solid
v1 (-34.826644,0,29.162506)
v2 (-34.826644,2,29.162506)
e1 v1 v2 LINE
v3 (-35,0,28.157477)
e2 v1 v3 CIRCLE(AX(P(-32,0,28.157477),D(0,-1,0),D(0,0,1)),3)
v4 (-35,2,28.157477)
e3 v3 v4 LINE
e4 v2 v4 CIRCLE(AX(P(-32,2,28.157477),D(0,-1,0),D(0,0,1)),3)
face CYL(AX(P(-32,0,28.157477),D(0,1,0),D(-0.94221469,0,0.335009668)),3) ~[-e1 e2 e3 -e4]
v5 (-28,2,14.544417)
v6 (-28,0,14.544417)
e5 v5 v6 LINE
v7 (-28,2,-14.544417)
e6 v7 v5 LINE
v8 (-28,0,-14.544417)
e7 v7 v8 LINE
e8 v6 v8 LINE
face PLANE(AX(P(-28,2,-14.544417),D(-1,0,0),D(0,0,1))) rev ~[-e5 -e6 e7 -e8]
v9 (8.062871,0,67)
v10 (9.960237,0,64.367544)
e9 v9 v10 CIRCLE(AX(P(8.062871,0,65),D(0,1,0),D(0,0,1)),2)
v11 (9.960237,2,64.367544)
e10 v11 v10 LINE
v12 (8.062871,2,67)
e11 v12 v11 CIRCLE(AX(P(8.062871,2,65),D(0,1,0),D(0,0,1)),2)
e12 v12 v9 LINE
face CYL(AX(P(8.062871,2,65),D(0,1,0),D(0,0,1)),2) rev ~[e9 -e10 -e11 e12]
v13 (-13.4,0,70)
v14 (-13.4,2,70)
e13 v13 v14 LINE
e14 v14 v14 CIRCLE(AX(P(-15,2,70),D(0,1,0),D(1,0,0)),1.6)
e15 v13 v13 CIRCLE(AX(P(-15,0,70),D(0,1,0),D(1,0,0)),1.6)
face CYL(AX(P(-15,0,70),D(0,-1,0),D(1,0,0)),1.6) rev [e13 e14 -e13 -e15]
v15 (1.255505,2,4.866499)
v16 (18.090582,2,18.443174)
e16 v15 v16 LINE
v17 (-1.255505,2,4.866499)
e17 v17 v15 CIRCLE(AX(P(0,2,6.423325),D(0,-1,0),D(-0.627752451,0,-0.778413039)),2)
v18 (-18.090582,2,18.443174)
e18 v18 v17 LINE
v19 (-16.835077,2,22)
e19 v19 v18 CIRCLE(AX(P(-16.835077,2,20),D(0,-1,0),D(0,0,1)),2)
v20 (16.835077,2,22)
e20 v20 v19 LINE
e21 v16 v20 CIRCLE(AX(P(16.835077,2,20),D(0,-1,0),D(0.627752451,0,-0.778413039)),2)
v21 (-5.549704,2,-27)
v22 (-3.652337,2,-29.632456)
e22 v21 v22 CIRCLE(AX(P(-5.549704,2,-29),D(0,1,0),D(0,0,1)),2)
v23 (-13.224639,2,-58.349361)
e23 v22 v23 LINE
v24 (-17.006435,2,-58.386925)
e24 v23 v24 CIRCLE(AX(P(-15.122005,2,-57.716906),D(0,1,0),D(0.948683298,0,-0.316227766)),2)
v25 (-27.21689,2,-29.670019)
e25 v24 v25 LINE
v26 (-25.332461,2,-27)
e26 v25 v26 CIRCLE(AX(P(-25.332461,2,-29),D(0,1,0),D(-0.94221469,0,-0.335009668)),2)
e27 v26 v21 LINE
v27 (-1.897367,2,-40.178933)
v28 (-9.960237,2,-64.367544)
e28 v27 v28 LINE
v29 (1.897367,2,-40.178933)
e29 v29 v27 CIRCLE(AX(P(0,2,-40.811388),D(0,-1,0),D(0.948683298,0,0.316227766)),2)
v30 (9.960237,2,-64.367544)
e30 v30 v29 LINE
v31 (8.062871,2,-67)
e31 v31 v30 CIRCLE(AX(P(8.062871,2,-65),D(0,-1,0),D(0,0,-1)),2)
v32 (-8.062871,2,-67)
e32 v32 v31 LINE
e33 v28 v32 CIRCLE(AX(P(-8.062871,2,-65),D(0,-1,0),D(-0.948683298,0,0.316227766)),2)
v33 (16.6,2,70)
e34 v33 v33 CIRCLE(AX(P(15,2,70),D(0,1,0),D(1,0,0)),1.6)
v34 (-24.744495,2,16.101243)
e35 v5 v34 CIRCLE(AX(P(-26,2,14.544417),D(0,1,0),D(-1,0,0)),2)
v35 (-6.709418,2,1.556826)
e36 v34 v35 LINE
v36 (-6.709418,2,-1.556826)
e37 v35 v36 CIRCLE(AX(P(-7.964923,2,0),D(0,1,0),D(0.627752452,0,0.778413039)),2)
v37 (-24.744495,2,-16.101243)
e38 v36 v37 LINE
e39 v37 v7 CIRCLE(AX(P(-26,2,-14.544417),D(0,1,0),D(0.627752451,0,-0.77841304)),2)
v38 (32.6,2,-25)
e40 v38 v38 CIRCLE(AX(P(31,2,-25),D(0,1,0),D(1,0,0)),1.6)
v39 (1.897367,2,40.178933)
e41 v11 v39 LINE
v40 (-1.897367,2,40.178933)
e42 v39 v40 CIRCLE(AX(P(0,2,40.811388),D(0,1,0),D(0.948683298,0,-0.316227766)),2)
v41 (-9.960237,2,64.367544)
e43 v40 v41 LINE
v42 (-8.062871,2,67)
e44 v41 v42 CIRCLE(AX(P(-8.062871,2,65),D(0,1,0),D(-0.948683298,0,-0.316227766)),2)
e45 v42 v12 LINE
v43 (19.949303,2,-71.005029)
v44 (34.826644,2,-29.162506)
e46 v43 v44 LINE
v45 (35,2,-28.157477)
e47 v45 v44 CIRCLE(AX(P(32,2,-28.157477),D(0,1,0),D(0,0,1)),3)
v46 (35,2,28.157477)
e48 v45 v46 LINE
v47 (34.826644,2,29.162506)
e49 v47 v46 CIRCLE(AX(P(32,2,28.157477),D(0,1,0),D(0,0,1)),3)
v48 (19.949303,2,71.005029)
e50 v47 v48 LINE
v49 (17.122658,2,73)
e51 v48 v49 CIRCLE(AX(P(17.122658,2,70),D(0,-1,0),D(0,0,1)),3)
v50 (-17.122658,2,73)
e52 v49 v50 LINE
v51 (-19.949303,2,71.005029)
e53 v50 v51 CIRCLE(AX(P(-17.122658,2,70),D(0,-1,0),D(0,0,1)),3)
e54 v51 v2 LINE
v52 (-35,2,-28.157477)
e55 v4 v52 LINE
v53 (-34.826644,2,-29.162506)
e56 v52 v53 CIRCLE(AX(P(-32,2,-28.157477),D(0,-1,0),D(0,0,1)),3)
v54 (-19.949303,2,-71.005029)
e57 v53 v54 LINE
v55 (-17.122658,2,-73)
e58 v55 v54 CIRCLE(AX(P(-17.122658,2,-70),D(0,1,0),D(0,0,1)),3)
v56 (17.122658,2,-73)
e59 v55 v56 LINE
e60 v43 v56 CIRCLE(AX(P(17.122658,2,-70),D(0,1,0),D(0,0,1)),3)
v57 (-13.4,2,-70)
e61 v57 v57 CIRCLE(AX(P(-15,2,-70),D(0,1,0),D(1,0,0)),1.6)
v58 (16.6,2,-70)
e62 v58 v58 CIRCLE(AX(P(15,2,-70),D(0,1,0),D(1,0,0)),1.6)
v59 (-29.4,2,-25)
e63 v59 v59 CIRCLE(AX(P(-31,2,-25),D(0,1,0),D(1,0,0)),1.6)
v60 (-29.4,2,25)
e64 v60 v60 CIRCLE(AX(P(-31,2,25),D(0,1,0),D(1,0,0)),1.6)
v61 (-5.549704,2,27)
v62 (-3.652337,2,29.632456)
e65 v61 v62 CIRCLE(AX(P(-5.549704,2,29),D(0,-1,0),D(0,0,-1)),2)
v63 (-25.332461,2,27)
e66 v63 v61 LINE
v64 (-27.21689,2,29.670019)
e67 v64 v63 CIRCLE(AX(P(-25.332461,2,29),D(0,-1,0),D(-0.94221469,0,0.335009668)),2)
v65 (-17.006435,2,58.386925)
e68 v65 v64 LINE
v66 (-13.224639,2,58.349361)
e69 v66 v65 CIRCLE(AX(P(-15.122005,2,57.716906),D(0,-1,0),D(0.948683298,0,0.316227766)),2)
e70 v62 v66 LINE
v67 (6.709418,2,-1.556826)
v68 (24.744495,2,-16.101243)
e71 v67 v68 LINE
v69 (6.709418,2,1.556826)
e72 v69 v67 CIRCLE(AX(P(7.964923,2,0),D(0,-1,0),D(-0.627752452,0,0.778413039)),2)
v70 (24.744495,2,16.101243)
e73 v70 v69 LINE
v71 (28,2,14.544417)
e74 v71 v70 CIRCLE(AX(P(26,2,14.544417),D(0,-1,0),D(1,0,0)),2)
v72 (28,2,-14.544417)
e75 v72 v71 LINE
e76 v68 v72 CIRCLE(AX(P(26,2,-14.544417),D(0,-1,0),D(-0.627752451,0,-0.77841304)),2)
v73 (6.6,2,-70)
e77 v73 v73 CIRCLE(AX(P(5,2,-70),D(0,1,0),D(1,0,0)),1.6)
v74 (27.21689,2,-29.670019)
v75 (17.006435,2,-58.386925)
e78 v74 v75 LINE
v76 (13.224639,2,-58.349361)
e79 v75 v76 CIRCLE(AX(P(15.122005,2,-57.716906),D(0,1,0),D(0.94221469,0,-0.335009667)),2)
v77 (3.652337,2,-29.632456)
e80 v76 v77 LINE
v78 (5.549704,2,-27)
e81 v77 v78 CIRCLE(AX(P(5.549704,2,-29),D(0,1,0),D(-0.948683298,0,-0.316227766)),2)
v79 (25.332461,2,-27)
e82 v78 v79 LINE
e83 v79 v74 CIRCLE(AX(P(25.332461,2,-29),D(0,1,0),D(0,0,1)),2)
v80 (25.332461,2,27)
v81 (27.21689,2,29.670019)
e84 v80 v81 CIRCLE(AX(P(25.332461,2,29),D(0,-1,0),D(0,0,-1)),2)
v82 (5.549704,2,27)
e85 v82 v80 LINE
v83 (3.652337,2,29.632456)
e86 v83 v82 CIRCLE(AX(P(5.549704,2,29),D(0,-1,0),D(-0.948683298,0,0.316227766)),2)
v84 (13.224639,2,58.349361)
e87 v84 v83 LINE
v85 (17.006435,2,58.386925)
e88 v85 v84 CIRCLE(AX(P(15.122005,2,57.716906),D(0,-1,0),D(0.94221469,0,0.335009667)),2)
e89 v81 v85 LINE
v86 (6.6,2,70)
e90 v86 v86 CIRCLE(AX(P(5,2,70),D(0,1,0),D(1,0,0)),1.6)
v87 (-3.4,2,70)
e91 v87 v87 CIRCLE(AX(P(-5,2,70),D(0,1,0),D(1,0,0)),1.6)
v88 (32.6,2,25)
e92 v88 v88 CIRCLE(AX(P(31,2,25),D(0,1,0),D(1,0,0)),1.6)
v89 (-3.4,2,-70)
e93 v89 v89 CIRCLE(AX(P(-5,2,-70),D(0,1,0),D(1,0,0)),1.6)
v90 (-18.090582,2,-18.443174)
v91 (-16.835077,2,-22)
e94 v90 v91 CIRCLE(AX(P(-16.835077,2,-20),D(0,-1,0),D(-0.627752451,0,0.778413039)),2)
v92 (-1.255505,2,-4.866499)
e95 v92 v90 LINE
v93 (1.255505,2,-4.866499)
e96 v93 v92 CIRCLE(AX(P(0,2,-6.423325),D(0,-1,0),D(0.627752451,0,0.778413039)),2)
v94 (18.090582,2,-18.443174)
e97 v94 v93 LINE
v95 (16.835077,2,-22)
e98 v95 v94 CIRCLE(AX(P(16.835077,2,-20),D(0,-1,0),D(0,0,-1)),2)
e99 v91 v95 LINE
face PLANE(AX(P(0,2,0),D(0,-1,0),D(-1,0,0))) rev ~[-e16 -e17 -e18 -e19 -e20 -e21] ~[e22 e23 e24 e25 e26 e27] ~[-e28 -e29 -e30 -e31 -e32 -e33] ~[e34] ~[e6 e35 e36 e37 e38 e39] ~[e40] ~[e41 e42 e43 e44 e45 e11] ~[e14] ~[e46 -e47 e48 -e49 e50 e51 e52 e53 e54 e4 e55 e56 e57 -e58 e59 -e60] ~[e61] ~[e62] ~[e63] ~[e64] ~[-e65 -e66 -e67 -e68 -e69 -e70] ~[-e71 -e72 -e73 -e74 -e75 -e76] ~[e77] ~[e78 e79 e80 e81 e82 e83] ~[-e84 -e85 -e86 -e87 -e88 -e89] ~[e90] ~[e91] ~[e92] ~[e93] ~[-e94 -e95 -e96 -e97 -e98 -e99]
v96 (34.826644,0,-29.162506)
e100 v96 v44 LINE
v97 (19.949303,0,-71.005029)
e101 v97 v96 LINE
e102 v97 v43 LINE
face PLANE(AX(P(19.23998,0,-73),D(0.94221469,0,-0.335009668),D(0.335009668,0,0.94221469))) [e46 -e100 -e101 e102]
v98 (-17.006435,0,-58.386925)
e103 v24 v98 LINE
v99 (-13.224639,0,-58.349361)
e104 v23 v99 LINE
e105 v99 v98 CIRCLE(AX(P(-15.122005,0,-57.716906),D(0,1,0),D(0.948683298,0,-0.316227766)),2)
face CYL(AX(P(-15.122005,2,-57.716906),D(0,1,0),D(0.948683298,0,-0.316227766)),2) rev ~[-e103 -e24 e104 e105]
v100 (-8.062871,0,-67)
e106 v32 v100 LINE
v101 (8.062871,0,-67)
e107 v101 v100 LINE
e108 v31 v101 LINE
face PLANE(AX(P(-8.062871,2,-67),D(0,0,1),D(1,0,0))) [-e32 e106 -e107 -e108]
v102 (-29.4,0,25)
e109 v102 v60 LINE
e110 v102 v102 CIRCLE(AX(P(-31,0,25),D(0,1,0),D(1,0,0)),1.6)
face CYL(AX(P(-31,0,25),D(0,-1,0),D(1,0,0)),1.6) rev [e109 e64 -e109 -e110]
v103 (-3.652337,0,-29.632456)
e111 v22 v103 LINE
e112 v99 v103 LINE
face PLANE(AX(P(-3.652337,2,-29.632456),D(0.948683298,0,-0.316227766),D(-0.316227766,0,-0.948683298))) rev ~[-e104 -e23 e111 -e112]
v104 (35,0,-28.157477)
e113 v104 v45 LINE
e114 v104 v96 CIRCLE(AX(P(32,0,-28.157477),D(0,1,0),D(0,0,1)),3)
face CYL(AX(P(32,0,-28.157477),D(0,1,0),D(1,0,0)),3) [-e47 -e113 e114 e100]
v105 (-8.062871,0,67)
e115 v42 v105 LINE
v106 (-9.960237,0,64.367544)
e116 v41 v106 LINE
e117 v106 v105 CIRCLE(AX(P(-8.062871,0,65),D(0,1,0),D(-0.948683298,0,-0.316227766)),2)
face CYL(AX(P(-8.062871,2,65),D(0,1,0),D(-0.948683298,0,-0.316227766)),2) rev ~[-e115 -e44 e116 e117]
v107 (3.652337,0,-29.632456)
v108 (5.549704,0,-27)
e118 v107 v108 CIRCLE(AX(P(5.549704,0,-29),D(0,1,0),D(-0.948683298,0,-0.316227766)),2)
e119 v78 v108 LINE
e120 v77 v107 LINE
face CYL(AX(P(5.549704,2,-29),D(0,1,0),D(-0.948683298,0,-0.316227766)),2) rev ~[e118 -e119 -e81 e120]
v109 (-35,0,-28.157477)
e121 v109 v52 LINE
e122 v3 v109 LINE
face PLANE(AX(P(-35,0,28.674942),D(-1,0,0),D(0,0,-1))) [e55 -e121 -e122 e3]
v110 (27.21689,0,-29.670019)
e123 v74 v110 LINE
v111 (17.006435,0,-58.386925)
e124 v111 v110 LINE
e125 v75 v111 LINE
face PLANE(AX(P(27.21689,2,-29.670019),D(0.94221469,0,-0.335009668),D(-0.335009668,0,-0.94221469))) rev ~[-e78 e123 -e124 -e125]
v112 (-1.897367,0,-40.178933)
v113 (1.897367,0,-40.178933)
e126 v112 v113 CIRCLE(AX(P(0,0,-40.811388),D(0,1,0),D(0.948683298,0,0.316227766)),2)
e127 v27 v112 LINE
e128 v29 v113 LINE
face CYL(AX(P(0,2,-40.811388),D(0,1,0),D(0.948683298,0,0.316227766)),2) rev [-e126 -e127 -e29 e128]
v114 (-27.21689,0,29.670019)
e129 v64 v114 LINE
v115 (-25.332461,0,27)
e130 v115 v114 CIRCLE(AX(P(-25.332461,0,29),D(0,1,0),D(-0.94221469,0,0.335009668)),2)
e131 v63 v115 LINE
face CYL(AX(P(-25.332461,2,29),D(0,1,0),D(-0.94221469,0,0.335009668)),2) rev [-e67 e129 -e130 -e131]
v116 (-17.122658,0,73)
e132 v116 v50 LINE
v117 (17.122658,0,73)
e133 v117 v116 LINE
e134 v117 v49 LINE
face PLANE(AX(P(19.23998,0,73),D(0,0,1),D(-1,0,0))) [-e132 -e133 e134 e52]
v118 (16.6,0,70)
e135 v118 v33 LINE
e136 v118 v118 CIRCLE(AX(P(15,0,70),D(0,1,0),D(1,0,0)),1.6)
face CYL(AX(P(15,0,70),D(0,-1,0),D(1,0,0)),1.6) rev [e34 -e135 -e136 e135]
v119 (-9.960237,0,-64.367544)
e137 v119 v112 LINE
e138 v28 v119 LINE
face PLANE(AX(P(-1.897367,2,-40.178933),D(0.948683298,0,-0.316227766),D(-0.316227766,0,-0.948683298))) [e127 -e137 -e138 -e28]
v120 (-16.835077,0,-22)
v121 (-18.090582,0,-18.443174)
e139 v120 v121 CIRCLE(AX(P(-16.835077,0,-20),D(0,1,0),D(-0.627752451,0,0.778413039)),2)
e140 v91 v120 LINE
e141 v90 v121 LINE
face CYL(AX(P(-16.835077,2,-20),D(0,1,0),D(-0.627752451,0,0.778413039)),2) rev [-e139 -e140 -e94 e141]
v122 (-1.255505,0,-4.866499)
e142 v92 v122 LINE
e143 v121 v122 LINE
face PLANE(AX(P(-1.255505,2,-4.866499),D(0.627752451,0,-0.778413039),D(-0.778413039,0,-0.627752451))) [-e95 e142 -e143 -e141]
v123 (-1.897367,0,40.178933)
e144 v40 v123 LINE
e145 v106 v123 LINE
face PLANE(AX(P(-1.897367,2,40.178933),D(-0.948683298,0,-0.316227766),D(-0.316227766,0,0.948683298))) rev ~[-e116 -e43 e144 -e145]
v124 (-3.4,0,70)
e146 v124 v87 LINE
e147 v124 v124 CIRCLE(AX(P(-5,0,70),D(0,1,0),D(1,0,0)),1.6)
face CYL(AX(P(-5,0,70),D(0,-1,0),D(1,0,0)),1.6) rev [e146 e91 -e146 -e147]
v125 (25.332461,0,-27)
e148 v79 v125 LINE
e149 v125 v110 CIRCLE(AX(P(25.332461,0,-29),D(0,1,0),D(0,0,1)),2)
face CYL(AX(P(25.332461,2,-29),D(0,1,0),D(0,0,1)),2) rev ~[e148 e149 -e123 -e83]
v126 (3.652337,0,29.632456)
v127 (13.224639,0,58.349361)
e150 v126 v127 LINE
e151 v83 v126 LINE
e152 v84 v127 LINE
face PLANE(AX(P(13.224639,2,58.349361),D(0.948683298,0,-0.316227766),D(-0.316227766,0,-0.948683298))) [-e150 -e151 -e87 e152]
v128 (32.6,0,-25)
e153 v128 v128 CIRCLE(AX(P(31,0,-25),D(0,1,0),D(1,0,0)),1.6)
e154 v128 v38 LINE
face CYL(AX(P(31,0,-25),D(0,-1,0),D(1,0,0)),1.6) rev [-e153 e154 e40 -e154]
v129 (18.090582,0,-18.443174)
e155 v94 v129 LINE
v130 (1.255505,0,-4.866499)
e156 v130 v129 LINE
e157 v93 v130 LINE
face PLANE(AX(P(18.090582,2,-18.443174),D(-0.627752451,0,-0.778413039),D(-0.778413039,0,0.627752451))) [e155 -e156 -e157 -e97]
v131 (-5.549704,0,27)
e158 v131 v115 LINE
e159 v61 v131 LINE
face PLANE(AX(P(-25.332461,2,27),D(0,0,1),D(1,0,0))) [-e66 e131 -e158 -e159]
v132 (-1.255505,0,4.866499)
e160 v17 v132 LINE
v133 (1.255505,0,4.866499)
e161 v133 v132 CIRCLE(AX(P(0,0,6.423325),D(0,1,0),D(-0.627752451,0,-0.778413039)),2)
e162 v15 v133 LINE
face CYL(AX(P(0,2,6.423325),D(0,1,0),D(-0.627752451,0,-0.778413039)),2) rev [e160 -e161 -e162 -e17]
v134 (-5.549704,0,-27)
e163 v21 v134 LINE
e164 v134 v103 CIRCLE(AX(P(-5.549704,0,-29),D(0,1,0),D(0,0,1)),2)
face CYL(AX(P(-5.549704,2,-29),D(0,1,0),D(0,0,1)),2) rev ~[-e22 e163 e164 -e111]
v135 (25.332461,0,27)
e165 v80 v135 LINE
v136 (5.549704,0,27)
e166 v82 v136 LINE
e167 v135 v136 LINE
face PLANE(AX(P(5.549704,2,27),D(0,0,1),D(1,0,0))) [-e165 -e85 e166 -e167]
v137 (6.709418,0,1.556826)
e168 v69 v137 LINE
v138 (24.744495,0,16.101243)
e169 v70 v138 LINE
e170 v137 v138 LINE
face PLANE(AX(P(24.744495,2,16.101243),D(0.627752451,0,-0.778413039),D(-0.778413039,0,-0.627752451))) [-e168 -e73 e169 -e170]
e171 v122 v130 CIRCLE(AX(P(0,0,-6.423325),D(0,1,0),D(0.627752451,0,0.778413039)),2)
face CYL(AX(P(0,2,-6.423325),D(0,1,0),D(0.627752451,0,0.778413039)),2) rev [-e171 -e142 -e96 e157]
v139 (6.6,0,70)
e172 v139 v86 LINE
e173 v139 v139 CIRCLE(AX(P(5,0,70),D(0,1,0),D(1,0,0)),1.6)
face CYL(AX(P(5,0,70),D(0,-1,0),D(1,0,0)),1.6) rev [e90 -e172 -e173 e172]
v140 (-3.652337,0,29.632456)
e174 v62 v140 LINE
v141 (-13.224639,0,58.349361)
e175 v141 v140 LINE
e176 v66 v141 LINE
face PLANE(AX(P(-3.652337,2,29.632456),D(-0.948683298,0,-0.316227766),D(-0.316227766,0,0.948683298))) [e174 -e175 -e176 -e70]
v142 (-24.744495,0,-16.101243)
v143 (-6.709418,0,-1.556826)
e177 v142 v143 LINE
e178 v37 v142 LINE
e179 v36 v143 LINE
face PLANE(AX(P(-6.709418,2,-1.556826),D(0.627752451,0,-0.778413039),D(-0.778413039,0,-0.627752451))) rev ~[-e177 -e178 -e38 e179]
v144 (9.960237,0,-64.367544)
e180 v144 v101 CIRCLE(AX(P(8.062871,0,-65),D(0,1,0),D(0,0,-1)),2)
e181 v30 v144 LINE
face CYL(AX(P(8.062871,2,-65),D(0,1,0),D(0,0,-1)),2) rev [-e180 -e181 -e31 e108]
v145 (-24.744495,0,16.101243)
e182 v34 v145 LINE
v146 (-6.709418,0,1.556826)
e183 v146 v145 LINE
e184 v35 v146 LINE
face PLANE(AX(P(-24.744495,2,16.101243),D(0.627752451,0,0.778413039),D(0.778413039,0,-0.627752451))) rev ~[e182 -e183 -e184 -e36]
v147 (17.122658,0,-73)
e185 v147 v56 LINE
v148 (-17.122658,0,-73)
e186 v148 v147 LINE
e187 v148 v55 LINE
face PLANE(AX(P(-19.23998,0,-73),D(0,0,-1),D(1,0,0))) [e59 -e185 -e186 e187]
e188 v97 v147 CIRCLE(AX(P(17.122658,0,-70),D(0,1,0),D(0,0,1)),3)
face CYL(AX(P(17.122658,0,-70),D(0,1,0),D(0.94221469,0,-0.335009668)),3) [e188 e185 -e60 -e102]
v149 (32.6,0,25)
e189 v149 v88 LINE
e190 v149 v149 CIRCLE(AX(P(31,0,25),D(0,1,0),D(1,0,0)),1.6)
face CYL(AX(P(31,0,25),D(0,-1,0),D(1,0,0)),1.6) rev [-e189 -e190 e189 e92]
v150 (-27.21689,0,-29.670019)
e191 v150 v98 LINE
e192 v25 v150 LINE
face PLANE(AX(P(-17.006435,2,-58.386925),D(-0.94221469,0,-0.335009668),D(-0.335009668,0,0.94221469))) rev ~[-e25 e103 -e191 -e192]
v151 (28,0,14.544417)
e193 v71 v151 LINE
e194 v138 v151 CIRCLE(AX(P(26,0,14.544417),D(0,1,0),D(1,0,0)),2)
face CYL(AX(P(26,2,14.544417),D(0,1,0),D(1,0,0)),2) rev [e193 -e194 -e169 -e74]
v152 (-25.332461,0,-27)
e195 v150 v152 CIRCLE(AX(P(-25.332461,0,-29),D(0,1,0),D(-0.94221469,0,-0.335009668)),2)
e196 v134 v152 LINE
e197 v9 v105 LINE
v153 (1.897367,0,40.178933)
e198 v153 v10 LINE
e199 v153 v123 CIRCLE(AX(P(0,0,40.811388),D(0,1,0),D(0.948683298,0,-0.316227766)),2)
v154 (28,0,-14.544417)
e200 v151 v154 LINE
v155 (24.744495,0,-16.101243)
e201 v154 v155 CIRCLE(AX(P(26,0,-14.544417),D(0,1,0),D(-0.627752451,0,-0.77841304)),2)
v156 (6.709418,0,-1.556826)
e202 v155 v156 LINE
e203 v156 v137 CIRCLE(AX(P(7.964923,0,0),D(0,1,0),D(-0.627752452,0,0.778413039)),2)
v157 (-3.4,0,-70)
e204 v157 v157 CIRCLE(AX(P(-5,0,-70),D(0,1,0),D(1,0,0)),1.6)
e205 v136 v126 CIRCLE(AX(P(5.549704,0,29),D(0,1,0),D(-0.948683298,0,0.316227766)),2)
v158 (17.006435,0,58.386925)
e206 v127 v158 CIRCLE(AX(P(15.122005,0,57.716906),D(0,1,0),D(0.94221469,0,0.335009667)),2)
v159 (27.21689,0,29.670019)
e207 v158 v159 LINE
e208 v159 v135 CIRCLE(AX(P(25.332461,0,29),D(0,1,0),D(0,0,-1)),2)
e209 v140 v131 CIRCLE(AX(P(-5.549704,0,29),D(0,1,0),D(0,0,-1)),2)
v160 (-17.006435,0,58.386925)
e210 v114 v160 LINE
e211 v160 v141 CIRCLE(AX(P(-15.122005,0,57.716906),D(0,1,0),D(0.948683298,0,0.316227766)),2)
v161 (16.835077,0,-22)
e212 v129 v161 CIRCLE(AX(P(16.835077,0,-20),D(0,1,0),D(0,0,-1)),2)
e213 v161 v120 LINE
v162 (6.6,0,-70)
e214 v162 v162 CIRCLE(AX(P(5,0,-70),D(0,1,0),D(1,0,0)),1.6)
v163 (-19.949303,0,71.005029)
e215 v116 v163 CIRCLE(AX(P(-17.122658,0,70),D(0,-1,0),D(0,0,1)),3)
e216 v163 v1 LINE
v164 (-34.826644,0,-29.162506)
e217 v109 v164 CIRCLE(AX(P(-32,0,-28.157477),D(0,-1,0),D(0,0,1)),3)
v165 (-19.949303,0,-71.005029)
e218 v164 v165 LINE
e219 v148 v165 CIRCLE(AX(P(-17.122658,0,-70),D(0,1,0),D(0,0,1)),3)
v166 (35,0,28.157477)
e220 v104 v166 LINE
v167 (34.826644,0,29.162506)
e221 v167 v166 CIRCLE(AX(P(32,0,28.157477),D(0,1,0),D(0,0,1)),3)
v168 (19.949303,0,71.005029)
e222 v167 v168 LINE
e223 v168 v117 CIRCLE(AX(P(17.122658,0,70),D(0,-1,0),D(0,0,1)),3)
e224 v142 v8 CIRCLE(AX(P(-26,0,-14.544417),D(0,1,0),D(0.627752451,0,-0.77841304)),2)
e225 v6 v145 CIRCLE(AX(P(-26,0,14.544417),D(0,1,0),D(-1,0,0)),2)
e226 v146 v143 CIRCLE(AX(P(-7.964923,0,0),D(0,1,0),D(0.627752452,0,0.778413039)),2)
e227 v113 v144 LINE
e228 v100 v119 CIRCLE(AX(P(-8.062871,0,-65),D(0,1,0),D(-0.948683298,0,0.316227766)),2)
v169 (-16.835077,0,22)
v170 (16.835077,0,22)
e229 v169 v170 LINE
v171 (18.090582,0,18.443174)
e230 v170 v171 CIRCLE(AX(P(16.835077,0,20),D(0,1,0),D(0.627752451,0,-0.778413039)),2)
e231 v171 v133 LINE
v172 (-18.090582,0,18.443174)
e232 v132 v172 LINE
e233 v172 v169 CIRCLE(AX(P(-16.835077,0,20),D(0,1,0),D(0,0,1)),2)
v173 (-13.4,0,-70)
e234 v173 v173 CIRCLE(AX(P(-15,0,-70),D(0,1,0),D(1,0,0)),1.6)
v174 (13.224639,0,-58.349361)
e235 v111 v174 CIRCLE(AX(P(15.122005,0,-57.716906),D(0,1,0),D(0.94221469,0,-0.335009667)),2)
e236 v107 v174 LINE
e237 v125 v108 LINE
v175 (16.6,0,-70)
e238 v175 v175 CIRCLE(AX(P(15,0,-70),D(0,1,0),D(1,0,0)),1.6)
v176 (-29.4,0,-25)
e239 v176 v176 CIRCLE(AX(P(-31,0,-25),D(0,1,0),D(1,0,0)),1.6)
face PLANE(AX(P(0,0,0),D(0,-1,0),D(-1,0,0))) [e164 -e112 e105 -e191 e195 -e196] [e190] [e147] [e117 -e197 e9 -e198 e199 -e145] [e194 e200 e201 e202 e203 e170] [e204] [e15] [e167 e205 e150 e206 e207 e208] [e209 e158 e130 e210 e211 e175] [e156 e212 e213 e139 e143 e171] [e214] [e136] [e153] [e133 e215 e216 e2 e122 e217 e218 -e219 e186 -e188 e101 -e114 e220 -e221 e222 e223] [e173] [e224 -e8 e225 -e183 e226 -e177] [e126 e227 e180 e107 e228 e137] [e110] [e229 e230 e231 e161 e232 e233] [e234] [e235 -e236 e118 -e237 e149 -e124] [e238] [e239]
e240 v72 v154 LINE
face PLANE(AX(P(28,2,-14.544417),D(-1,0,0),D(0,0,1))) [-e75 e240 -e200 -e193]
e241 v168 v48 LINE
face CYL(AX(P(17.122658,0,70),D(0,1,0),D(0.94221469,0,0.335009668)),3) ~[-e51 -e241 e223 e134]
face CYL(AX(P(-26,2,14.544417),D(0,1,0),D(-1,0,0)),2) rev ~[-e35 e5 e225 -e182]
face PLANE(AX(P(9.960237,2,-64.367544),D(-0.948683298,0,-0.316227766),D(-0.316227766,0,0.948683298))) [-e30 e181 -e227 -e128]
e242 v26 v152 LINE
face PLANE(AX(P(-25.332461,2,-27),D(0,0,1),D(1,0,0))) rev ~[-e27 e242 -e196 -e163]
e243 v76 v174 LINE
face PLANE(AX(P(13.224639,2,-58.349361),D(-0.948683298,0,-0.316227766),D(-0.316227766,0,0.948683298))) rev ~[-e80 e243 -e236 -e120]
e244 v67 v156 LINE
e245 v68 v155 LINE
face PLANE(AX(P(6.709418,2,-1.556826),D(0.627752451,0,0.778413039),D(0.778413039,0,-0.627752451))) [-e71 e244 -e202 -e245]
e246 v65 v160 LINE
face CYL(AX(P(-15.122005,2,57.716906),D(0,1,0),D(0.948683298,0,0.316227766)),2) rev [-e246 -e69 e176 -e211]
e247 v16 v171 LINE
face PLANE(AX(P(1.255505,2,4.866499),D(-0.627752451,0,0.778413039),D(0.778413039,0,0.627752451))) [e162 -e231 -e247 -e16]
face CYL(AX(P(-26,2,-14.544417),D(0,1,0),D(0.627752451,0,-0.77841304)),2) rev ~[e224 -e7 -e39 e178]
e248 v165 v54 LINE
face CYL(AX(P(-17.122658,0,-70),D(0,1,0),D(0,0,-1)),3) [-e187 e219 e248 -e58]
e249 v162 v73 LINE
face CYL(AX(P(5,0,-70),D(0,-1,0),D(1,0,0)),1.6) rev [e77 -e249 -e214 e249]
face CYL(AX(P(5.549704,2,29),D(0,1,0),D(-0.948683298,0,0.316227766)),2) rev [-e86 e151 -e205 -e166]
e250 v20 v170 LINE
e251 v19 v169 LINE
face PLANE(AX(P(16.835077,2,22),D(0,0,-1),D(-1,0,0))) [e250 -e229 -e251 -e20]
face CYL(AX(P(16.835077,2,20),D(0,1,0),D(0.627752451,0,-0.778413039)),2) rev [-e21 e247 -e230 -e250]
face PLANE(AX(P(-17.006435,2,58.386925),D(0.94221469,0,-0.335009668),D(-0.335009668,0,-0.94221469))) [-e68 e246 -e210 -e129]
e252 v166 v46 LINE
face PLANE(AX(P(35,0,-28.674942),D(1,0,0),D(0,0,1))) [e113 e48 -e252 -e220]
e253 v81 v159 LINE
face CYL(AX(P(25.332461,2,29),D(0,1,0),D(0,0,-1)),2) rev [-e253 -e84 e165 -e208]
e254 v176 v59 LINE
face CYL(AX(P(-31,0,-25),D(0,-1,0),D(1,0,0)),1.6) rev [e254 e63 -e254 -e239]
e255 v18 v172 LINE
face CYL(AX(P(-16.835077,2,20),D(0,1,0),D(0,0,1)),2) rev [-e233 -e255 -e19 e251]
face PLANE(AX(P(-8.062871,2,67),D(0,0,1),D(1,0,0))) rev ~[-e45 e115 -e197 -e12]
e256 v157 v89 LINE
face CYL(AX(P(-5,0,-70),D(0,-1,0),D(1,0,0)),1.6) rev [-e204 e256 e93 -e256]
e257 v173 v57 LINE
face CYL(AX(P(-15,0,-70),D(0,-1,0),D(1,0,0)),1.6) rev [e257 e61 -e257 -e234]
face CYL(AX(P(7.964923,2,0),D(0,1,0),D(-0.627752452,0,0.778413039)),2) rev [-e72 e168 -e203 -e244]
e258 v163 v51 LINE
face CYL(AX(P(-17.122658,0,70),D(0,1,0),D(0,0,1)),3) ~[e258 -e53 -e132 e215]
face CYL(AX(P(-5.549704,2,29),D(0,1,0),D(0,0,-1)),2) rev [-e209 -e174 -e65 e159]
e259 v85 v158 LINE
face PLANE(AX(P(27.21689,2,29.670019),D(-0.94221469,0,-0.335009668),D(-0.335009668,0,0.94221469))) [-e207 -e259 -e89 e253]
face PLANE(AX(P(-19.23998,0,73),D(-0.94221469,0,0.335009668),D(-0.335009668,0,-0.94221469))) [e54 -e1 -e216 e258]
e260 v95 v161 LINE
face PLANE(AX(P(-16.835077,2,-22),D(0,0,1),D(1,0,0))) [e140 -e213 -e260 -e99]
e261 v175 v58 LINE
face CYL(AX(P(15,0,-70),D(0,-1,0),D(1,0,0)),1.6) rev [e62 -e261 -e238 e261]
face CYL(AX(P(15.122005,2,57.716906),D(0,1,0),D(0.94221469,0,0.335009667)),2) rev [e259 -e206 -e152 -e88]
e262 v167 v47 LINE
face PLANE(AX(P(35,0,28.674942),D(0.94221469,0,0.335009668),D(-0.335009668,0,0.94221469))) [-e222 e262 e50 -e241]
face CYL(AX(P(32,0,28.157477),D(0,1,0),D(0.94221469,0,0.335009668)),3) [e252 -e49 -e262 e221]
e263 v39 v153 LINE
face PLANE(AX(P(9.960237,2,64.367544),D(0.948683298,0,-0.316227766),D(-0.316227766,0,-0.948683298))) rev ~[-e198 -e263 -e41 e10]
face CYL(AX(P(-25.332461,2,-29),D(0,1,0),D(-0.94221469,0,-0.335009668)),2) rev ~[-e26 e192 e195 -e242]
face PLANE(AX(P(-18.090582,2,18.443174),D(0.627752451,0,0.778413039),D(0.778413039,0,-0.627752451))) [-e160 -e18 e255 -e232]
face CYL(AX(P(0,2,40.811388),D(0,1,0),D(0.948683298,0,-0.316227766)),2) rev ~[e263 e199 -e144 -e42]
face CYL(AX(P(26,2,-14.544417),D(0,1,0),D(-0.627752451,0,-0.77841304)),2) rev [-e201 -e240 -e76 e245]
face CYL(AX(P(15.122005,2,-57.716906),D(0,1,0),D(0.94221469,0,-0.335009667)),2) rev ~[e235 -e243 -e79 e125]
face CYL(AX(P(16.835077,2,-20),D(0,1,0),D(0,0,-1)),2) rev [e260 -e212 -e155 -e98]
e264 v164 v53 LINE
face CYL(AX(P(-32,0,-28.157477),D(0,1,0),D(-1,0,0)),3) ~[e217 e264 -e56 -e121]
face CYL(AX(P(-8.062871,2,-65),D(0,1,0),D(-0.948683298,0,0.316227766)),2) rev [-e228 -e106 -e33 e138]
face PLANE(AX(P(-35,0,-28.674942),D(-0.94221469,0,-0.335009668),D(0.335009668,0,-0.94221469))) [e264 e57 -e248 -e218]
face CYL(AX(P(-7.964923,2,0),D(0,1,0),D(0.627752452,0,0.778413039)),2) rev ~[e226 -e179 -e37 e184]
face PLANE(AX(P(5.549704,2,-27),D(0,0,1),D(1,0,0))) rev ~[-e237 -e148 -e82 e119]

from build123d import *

# Parameters (mm, degrees)
SKETCH_1_R          = 1.6
EXTRUDE_1_DEPTH     = 2
CUT_EXTRUDE_1_DEPTH = 3
FILLET_1_R          = 3


with BuildPart() as part:
    # 草图1 → 凸台-拉伸1 (new body)
    with BuildSketch(Plane(origin=(0, 0, 0), x_dir=(1, 0, 0), z_dir=(0, 1, 0))):
        Polygon((35, -28.67494242), (19.239979527, -73), (-19.239979527, -73), (-35, -28.67494242), (-35, 28.67494242), (-19.239979527, 73), (19.239979527, 73), (35, 28.67494242), align=None)
        with Locations((-31, 25)):
            Circle(SKETCH_1_R, mode=Mode.SUBTRACT)
        with Locations((-31, -25)):
            Circle(SKETCH_1_R, mode=Mode.SUBTRACT)
        with Locations((31, -25)):
            Circle(SKETCH_1_R, mode=Mode.SUBTRACT)
        with Locations((31, 25)):
            Circle(SKETCH_1_R, mode=Mode.SUBTRACT)
        with Locations((-15, 70)):
            Circle(SKETCH_1_R, mode=Mode.SUBTRACT)
        with Locations((-5, 70)):
            Circle(SKETCH_1_R, mode=Mode.SUBTRACT)
        with Locations((5, 70)):
            Circle(SKETCH_1_R, mode=Mode.SUBTRACT)
        with Locations((15, 70)):
            Circle(SKETCH_1_R, mode=Mode.SUBTRACT)
        with Locations((-5, -70)):
            Circle(SKETCH_1_R, mode=Mode.SUBTRACT)
        with Locations((5, -70)):
            Circle(SKETCH_1_R, mode=Mode.SUBTRACT)
        with Locations((15, -70)):
            Circle(SKETCH_1_R, mode=Mode.SUBTRACT)
        with Locations((-15, -70)):
            Circle(SKETCH_1_R, mode=Mode.SUBTRACT)
    extrude(amount=EXTRUDE_1_DEPTH)

    # 草图2 → 切除-拉伸1 (cut, through all)
    with BuildSketch(Plane(origin=(0, 2, 0), x_dir=(1, 0, 0), z_dir=(0, 1, 0))):
        with BuildLine():
            Line((-3.652336951, -29.632455532), (-13.224638858, -58.349361255))
            ThreePointArc((-13.224638858, -58.349361255), (-15.102140845, -59.71680707), (-17.006434835, -58.386925058))
            Line((-17.006434835, -58.386925058), (-27.216890203, -29.670019335))
            ThreePointArc((-27.216890203, -29.670019335), (-26.966480203, -27.846752123), (-25.332460823, -27))
            Line((-25.332460823, -27), (-5.549703547, -27))
            ThreePointArc((-5.549703547, -27), (-3.927219177, -27.830579431), (-3.652336951, -29.632455532))
        make_face()
        with BuildLine():
            Line((-1.897366596, -40.178932769), (-9.960237162, -64.367544468))
            ThreePointArc((-9.960237162, -64.367544468), (-9.685354937, -66.169420569), (-8.062870566, -67))
            Line((-8.062870566, -67), (8.062870566, -67))
            ThreePointArc((8.062870566, -67), (9.685354937, -66.169420569), (9.960237162, -64.367544468))
            Line((9.960237162, -64.367544468), (1.897366596, -40.178932769))
            ThreePointArc((1.897366596, -40.178932769), (0, -38.811388301), (-1.897366596, -40.178932769))
        make_face()
        with BuildLine():
            Line((5.549703547, -27), (25.332460823, -27))
            ThreePointArc((25.332460823, -27), (26.966480203, -27.846752123), (27.216890203, -29.670019335))
            Line((27.216890203, -29.670019335), (17.006434835, -58.386925058))
            ThreePointArc((17.006434835, -58.386925058), (15.102140845, -59.71680707), (13.224638858, -58.349361255))
            Line((13.224638858, -58.349361255), (3.652336951, -29.632455532))
            ThreePointArc((3.652336951, -29.632455532), (3.927219177, -27.830579431), (5.549703547, -27))
        make_face()
        with BuildLine():
            Line((-28, 14.544416854), (-28, -14.544416854))
            ThreePointArc((-28, -14.544416854), (-26.862841293, -16.348718631), (-24.744495098, -16.101242933))
            Line((-24.744495098, -16.101242933), (-6.709418198, -1.556826079))
            ThreePointArc((-6.709418198, -1.556826079), (-5.964923101, 0), (-6.709418198, 1.556826079))
            Line((-6.709418198, 1.556826079), (-24.744495098, 16.101242933))
            ThreePointArc((-24.744495098, 16.101242933), (-26.862841293, 16.348718631), (-28, 14.544416854))
        make_face()
        with BuildLine():
            Line((24.744495098, -16.101242933), (6.709418198, -1.556826079))
            ThreePointArc((6.709418198, -1.556826079), (5.964923101, 0), (6.709418198, 1.556826079))
            Line((6.709418198, 1.556826079), (24.744495098, 16.101242933))
            ThreePointArc((24.744495098, 16.101242933), (26.862841293, 16.348718631), (28, 14.544416854))
            Line((28, 14.544416854), (28, -14.544416854))
            ThreePointArc((28, -14.544416854), (26.862841293, -16.348718631), (24.744495098, -16.101242933))
        make_face()
        with BuildLine():
            Line((-18.090581802, -18.443173921), (-1.255504902, -4.866499002))
            ThreePointArc((-1.255504902, -4.866499002), (0, -4.423325081), (1.255504902, -4.866499002))
            Line((1.255504902, -4.866499002), (18.090581802, -18.443173921))
            ThreePointArc((18.090581802, -18.443173921), (18.721031851, -20.665713092), (16.835076899, -22))
            Line((16.835076899, -22), (0, -22))
            Line((0, -22), (-16.835076899, -22))
            ThreePointArc((-16.835076899, -22), (-18.721031851, -20.665713092), (-18.090581802, -18.443173921))
        make_face()
        with BuildLine():
            Line((-16.835076899, 22), (0, 22))
            Line((0, 22), (16.835076899, 22))
            ThreePointArc((16.835076899, 22), (18.721031851, 20.665713092), (18.090581802, 18.443173921))
            Line((18.090581802, 18.443173921), (1.255504902, 4.866499002))
            ThreePointArc((1.255504902, 4.866499002), (0, 4.423325081), (-1.255504902, 4.866499002))
            Line((-1.255504902, 4.866499002), (-18.090581802, 18.443173921))
            ThreePointArc((-18.090581802, 18.443173921), (-18.721031851, 20.665713092), (-16.835076899, 22))
        make_face()
        with BuildLine():
            Line((9.960237162, 64.367544468), (1.897366596, 40.178932769))
            ThreePointArc((1.897366596, 40.178932769), (0, 38.811388301), (-1.897366596, 40.178932769))
            Line((-1.897366596, 40.178932769), (-9.960237162, 64.367544468))
            ThreePointArc((-9.960237162, 64.367544468), (-9.685354937, 66.169420569), (-8.062870566, 67))
            Line((-8.062870566, 67), (8.062870566, 67))
            ThreePointArc((8.062870566, 67), (9.685354937, 66.169420569), (9.960237162, 64.367544468))
        make_face()
        with BuildLine():
            Line((13.224638858, 58.349361255), (3.652336951, 29.632455532))
            ThreePointArc((3.652336951, 29.632455532), (3.927219177, 27.830579431), (5.549703547, 27))
            Line((5.549703547, 27), (25.332460823, 27))
            ThreePointArc((25.332460823, 27), (26.966480203, 27.846752123), (27.216890203, 29.670019335))
            Line((27.216890203, 29.670019335), (17.006434835, 58.386925058))
            ThreePointArc((17.006434835, 58.386925058), (15.102140845, 59.71680707), (13.224638858, 58.349361255))
        make_face()
        with BuildLine():
            Line((-25.332460823, 27), (-5.549703547, 27))
            ThreePointArc((-5.549703547, 27), (-3.927219177, 27.830579431), (-3.652336951, 29.632455532))
            Line((-3.652336951, 29.632455532), (-13.224638858, 58.349361255))
            ThreePointArc((-13.224638858, 58.349361255), (-15.102140845, 59.71680707), (-17.006434835, 58.386925058))
            Line((-17.006434835, 58.386925058), (-27.216890203, 29.670019335))
            ThreePointArc((-27.216890203, 29.670019335), (-26.966480203, 27.846752123), (-25.332460823, 27))
        make_face()
    extrude(amount=-CUT_EXTRUDE_1_DEPTH, mode=Mode.SUBTRACT)

    # 圆角1
    fillet_1_edges = [part.edges().sort_by_distance(p)[0] for p in [
        (35, 1, 28.67494242),
        (19.239979527, 1, 73),
        (-19.239979527, 1, 73),
        (-35, 1, 28.67494242),
        (-35, 1, -28.67494242),
        (-19.239979527, 1, -73),
        (19.239979527, 1, -73),
        (35, 1, -28.67494242),
    ]]
    fillet(fillet_1_edges, radius=FILLET_1_R)


solid = part.part
